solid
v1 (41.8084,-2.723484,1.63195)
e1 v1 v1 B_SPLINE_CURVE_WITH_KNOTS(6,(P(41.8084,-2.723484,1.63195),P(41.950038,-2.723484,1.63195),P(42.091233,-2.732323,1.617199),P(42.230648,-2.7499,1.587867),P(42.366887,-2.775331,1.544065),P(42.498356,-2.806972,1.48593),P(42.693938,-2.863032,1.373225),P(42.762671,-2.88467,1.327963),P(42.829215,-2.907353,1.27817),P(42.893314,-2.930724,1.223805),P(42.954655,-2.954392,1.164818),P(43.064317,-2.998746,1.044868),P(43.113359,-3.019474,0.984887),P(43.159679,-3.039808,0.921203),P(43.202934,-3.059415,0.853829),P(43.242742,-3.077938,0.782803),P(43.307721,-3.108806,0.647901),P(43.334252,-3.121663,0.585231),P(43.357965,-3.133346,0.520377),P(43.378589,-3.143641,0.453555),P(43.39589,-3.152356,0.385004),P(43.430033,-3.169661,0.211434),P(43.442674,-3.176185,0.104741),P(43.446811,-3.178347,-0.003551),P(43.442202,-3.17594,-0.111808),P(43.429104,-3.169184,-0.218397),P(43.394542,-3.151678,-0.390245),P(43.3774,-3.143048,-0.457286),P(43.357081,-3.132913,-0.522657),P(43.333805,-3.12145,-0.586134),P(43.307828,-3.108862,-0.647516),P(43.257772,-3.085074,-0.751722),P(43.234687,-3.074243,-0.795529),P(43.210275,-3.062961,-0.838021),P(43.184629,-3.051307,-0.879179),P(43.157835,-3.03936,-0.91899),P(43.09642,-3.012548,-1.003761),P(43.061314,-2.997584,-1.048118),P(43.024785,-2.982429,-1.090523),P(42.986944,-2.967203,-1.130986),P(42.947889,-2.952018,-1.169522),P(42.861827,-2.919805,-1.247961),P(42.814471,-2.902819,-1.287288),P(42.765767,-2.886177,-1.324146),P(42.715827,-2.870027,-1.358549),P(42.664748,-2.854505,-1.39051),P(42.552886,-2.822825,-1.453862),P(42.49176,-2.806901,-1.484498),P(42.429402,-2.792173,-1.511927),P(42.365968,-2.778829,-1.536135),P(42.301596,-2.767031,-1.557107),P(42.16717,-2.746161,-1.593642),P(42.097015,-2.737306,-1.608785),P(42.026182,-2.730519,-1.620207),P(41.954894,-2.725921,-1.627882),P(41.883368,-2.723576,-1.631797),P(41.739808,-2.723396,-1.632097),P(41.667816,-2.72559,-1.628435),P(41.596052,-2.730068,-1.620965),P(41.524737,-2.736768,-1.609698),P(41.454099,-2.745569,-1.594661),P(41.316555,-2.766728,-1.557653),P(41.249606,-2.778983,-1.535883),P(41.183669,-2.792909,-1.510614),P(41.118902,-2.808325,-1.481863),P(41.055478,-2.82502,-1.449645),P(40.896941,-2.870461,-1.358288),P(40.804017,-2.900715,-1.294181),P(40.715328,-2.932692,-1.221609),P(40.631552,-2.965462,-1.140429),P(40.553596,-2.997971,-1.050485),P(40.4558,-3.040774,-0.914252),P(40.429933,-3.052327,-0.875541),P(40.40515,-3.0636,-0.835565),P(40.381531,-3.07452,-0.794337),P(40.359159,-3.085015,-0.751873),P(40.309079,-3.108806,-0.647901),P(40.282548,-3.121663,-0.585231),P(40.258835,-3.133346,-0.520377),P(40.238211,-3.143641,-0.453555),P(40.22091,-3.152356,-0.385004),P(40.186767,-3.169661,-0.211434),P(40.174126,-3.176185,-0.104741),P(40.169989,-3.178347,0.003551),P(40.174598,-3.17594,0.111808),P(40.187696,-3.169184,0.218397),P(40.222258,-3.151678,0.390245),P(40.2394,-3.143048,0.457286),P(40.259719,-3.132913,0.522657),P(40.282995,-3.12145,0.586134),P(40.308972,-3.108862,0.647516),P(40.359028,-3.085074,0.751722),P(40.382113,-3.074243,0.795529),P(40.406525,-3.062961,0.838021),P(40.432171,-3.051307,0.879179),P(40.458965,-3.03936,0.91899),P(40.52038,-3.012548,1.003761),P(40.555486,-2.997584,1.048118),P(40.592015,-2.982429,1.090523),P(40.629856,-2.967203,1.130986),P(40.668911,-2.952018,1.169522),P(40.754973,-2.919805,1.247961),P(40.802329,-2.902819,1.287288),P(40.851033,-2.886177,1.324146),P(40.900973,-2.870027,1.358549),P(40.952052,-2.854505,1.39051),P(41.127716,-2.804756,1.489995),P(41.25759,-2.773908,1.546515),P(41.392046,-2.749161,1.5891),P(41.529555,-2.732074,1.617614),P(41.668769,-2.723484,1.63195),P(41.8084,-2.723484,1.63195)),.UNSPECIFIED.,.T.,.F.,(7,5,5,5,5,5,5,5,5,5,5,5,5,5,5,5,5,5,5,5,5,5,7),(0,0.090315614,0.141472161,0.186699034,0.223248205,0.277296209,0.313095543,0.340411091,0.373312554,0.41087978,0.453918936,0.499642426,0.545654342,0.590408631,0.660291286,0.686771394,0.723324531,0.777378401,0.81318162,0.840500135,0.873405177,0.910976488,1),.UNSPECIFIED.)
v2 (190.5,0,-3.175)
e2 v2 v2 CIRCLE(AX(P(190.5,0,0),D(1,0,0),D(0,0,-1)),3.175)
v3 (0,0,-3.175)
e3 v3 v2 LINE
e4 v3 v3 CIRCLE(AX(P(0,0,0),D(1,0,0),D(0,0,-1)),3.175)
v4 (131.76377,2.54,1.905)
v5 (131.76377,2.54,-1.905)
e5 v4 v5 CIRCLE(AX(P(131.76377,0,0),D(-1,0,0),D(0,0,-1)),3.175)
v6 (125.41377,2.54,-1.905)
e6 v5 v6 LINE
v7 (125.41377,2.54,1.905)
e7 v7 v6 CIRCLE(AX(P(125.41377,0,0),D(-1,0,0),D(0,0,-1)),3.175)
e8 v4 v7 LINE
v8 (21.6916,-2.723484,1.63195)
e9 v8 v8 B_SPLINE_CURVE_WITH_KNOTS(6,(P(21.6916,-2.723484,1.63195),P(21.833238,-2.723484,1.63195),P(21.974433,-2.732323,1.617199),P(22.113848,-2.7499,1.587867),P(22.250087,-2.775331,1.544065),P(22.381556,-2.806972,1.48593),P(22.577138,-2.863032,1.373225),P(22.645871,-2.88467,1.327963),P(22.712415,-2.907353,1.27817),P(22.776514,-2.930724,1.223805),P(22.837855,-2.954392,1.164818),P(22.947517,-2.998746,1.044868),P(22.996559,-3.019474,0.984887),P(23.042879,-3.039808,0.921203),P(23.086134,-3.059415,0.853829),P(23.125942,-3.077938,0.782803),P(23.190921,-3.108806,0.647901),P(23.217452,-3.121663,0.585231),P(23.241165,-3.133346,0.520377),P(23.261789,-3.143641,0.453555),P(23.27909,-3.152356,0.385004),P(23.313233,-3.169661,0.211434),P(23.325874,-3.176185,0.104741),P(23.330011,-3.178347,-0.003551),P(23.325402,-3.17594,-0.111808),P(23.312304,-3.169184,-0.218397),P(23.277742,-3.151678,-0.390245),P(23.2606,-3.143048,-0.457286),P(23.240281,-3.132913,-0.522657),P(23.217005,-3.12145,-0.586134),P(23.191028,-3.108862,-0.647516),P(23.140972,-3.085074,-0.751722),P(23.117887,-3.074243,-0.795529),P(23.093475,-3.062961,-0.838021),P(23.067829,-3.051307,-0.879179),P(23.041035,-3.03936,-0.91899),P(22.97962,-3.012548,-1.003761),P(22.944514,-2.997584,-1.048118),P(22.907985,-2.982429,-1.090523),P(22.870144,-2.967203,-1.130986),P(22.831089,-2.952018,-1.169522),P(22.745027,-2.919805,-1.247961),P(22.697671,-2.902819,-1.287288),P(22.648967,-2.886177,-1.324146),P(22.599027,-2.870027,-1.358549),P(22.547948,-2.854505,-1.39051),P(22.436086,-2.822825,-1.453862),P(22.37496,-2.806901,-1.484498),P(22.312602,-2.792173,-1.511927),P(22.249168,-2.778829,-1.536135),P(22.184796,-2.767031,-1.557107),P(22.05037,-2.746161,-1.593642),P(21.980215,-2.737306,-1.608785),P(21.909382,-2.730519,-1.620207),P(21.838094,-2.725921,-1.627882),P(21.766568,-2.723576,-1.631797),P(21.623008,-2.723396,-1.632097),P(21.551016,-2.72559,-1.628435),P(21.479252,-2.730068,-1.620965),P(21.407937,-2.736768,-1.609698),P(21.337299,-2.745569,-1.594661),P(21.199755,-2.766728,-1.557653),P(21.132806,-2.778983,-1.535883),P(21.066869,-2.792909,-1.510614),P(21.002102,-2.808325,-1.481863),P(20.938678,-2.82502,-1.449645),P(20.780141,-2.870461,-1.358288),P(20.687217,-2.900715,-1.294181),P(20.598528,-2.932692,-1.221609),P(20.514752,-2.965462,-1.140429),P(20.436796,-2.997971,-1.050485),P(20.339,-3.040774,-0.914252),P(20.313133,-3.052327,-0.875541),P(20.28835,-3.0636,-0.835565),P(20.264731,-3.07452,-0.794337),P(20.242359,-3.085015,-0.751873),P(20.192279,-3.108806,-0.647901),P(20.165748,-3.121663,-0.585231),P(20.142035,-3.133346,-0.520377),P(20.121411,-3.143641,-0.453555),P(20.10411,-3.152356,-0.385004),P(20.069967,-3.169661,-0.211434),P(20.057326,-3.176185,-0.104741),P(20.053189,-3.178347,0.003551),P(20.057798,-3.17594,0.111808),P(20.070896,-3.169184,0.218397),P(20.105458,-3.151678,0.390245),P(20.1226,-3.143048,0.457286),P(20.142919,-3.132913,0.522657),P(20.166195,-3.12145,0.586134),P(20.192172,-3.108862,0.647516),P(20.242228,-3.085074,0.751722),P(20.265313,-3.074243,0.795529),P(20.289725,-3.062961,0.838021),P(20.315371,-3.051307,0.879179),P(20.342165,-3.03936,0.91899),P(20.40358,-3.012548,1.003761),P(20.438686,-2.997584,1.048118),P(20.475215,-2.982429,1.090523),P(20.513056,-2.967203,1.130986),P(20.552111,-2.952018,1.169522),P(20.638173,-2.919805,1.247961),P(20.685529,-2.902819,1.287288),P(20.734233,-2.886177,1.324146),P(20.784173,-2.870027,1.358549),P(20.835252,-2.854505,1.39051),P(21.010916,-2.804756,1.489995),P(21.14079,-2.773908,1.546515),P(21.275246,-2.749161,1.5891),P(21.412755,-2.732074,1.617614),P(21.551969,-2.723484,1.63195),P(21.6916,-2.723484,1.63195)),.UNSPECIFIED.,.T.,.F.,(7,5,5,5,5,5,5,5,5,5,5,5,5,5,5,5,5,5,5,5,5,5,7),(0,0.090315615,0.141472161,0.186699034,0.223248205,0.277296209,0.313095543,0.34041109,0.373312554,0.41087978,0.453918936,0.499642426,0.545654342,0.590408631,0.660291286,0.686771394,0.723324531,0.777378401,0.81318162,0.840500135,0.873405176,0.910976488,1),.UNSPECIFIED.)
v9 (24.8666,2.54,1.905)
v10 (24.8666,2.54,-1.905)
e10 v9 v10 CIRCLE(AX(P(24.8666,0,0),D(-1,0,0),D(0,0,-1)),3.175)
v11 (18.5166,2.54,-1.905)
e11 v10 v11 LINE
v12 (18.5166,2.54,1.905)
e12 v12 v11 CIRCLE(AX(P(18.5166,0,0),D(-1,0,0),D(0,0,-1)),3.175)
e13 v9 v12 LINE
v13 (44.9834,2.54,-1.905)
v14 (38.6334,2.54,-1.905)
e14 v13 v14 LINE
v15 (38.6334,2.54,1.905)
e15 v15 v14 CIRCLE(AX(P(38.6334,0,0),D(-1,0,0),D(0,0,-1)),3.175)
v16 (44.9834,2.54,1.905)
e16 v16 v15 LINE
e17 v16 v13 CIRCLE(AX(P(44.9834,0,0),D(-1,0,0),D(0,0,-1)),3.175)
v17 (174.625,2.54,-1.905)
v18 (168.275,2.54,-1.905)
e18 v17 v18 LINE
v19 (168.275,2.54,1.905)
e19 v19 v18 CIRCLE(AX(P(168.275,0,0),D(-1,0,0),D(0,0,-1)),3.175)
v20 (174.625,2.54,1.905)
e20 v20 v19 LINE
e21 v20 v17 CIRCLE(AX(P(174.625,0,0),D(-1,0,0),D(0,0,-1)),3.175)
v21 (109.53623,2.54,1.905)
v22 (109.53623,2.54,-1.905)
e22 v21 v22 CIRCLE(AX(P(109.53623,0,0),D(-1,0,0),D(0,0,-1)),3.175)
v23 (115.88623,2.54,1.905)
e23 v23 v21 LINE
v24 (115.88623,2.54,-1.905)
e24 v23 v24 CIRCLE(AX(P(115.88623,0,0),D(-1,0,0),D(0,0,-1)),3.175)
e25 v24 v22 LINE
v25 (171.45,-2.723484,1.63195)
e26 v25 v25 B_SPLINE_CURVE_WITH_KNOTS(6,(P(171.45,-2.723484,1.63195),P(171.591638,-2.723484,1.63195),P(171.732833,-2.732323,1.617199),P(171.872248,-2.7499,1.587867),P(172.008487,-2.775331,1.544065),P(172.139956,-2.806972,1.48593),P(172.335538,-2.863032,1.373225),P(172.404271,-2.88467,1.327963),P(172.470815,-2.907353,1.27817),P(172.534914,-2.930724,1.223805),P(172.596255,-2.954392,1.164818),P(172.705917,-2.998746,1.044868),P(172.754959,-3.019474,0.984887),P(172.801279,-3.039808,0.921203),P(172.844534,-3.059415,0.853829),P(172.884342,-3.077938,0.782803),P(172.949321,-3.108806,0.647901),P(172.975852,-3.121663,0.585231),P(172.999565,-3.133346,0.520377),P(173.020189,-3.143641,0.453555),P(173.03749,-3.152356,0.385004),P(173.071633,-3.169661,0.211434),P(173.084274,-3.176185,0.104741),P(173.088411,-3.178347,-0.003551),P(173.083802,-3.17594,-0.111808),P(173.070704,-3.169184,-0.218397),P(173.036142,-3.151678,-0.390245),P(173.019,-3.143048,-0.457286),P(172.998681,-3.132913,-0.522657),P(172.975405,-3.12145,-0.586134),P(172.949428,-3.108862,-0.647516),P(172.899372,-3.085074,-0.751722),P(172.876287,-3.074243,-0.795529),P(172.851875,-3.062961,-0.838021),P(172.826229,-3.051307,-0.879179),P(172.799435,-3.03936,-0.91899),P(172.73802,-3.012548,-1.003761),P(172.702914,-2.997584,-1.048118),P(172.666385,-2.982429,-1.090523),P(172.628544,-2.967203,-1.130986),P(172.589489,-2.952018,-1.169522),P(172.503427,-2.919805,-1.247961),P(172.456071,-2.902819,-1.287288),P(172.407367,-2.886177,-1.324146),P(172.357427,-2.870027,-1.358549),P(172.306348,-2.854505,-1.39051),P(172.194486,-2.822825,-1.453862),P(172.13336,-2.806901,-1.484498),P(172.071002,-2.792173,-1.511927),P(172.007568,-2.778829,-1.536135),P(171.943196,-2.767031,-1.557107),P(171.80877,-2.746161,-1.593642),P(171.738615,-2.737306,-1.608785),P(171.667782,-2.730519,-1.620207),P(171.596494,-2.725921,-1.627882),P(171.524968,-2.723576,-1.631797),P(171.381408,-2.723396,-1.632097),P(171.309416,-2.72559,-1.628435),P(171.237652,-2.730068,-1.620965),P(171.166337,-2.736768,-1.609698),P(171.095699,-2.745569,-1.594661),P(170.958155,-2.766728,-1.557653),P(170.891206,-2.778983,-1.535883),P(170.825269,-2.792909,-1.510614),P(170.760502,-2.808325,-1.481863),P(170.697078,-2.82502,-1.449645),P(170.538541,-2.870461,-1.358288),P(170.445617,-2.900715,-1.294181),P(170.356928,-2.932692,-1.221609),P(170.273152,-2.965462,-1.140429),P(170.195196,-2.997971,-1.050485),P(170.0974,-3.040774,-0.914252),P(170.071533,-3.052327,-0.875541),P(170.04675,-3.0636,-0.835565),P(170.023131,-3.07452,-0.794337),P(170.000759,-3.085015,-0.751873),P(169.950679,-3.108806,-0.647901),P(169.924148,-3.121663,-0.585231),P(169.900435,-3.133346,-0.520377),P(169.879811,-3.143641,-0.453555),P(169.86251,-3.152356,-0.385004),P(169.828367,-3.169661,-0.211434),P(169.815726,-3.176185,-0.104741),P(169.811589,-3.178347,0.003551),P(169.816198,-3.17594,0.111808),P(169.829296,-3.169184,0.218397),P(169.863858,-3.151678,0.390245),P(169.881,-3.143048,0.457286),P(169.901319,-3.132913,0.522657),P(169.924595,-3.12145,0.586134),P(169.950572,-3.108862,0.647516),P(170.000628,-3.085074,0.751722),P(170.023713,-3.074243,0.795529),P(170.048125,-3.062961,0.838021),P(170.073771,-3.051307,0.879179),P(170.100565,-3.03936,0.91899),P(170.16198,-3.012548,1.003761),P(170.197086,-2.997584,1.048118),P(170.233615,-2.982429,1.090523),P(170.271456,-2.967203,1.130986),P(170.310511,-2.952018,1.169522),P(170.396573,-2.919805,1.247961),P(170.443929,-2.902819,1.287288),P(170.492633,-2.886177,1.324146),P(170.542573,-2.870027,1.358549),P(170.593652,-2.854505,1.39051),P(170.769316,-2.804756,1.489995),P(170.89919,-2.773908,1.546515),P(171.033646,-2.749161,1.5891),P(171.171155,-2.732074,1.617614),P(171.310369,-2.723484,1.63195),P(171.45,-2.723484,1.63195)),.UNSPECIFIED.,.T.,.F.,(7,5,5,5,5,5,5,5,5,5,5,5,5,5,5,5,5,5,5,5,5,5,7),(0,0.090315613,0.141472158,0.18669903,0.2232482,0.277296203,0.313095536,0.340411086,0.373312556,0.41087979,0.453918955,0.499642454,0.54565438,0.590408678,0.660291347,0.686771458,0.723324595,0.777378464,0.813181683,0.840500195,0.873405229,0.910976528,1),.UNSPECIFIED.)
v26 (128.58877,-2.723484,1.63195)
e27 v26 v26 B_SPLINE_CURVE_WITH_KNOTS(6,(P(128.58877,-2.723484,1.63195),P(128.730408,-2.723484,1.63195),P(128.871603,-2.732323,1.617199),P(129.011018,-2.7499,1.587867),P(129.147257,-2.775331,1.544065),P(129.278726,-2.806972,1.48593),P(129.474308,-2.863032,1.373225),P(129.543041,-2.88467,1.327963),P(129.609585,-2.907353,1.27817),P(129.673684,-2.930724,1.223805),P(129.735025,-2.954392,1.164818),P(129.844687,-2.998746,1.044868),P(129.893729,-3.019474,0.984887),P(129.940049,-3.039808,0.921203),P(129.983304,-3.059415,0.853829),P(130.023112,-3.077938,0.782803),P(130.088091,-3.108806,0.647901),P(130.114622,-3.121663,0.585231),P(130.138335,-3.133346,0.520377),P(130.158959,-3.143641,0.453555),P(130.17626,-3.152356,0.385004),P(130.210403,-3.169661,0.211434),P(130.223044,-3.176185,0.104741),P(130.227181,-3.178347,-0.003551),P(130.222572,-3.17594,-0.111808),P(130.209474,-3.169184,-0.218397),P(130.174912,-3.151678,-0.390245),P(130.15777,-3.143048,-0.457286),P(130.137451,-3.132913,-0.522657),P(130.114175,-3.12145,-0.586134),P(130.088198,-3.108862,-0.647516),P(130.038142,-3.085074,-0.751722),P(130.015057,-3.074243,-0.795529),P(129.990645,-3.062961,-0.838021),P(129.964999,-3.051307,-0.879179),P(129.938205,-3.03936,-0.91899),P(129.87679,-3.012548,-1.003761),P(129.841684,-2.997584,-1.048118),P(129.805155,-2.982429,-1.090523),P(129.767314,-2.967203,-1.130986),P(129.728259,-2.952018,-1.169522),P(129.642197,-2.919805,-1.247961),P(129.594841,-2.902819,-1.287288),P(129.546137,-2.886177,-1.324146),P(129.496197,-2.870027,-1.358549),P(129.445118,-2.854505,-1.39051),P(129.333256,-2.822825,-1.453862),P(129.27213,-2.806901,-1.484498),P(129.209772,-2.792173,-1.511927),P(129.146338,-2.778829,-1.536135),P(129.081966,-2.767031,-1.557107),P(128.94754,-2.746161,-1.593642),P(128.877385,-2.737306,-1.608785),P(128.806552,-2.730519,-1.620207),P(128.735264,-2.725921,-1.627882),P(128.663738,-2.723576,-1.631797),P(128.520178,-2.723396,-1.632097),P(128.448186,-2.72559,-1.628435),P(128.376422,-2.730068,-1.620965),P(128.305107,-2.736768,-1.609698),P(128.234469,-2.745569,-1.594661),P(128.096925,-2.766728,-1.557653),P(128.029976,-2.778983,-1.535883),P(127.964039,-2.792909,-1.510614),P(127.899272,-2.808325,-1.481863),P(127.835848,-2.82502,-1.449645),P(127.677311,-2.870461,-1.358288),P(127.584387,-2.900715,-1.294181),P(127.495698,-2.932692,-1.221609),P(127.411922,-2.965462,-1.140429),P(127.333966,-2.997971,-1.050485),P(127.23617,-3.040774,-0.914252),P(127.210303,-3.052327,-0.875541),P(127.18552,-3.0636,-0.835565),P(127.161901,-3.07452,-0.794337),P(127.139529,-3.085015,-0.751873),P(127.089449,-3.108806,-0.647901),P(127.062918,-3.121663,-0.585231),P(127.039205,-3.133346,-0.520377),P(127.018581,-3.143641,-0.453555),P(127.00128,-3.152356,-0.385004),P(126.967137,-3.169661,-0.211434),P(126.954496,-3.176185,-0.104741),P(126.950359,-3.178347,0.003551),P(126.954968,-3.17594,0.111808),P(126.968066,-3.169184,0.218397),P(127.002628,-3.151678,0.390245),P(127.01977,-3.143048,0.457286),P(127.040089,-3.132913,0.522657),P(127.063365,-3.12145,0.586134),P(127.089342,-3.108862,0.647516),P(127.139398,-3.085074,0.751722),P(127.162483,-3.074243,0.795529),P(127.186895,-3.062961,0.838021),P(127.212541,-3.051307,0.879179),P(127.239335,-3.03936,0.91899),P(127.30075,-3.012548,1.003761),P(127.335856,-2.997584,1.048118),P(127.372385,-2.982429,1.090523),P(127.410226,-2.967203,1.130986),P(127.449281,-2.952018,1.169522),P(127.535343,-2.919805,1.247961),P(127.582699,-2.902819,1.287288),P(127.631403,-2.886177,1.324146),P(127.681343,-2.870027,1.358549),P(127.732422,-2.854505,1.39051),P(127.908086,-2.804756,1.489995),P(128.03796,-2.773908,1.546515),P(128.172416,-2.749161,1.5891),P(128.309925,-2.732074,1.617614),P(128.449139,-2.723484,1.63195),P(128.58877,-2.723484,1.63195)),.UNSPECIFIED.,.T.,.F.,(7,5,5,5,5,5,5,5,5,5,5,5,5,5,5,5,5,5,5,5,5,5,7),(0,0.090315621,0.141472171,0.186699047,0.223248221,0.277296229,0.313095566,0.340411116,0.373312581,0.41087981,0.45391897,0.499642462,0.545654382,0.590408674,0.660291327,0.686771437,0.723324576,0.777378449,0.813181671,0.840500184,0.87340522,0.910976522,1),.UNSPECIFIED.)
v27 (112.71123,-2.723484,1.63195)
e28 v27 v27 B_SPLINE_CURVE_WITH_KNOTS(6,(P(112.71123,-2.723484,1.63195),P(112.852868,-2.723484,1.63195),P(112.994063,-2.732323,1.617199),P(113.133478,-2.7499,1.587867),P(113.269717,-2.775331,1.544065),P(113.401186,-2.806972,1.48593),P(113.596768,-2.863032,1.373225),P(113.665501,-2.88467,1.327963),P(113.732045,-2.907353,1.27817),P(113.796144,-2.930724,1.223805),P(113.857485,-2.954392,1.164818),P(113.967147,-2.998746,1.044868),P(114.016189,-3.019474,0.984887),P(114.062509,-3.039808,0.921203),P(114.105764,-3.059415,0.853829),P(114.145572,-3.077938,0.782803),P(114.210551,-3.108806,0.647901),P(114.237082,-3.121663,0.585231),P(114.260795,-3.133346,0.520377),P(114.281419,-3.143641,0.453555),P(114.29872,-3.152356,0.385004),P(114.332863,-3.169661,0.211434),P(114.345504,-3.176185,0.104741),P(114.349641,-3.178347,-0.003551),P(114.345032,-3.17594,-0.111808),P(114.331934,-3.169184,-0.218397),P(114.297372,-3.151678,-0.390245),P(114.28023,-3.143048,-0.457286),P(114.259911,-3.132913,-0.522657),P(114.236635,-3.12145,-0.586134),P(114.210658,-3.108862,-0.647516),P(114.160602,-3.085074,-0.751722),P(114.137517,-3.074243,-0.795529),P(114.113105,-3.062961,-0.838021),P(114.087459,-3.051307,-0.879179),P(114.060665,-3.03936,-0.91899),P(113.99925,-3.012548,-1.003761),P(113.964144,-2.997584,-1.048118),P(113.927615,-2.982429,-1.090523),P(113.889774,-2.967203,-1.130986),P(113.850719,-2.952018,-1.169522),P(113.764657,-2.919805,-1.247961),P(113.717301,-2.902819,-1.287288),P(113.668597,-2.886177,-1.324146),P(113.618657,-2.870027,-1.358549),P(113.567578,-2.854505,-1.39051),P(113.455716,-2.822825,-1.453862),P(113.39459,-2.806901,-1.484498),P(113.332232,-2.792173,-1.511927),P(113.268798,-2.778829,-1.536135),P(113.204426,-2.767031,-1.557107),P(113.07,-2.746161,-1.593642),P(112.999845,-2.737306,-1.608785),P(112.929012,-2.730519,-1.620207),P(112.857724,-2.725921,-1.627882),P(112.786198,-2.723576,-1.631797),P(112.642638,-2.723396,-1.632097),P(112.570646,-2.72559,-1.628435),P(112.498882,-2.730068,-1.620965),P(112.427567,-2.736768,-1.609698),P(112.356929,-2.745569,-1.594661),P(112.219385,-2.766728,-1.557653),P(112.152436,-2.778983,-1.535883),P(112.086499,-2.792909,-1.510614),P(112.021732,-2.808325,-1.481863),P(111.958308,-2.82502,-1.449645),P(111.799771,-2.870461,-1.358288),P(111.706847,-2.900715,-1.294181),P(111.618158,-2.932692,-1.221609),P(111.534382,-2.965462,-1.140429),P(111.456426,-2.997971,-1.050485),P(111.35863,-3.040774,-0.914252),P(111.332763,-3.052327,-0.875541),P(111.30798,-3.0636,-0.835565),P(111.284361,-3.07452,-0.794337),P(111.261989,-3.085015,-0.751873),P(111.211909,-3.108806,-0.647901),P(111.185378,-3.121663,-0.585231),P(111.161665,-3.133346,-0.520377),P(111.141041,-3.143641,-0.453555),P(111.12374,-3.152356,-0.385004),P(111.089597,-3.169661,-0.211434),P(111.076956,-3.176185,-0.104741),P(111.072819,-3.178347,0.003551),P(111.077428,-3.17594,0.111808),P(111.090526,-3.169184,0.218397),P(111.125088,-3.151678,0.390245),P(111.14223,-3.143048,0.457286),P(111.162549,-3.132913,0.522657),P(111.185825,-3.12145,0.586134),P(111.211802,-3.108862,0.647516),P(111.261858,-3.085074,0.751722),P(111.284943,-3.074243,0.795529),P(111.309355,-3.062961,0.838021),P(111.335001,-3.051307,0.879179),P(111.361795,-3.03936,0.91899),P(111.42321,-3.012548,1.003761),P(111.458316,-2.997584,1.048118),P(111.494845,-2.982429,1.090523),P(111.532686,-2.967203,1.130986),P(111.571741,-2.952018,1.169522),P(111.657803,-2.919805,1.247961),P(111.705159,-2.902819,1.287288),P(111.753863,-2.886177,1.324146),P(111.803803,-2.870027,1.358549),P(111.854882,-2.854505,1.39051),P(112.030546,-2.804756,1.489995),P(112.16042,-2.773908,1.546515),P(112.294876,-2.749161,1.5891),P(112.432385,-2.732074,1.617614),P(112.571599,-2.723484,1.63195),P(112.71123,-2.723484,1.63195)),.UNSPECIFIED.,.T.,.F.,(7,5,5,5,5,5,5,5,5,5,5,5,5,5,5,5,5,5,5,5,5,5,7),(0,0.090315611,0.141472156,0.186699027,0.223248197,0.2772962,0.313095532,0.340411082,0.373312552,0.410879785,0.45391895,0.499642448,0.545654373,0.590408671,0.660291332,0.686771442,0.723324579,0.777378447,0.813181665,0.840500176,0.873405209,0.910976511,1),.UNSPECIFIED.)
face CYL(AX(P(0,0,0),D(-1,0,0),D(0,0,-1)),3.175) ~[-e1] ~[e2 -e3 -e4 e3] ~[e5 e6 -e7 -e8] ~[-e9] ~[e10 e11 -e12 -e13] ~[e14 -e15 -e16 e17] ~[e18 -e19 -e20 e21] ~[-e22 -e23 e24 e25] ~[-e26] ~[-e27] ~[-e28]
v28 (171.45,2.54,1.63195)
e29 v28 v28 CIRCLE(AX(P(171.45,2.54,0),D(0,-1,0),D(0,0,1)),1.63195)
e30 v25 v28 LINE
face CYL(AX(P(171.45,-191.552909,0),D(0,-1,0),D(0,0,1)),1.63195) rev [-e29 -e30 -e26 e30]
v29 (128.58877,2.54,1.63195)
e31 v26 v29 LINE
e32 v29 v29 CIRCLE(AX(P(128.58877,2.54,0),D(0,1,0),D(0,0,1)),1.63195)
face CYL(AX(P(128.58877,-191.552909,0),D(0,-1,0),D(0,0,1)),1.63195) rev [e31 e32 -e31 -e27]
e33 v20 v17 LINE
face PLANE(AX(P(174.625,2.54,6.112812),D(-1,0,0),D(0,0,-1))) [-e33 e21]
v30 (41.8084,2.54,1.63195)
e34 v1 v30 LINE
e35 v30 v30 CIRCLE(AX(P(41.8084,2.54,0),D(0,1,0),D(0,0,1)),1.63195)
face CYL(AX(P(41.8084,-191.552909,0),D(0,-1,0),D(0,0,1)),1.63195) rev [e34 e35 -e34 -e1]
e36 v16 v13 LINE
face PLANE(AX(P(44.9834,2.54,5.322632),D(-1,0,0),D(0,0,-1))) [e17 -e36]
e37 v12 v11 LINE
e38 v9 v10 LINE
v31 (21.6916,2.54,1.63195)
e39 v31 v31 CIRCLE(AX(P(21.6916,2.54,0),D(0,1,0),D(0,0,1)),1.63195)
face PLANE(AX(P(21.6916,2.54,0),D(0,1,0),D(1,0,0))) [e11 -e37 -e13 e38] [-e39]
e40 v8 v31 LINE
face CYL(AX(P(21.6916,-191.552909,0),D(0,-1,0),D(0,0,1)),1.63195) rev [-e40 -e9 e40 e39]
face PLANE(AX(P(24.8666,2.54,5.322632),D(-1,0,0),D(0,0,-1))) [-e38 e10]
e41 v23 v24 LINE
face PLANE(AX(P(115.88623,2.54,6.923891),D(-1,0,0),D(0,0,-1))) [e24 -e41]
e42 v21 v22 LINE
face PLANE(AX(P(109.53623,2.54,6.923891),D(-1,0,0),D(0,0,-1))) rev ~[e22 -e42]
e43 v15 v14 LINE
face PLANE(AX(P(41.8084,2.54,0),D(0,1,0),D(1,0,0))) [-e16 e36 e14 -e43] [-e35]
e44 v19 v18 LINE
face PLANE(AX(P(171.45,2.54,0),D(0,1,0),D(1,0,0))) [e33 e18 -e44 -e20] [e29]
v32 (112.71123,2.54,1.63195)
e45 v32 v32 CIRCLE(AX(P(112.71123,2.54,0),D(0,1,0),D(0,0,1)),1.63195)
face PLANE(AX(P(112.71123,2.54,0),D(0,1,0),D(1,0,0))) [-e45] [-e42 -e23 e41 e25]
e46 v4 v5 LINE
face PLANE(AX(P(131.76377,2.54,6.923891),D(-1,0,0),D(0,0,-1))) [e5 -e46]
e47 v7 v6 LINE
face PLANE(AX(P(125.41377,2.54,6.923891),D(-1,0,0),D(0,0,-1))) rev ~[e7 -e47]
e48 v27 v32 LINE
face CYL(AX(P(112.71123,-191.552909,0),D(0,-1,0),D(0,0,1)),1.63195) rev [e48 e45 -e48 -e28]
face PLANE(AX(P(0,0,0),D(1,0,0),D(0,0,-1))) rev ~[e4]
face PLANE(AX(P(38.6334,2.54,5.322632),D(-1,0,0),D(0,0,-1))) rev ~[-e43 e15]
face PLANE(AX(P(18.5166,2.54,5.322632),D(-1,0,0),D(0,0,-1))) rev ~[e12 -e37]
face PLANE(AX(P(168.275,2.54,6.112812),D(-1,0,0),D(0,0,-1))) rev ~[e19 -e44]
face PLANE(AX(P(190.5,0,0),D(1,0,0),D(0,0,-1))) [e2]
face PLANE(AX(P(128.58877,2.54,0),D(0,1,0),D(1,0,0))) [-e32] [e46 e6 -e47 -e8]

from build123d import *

# Parameters (mm, degrees)
SKETCH1_R               = 3.175
BOSS_EXTRUDE1_DEPTH     = 190.5
CUT_EXTRUDE1_DEPTH      = 191.552909319
CUT_EXTRUDE1_DEPTH_BACK = 191.552909319
SKETCH2_R               = 1.63195
CUT_EXTRUDE2_START      = 2.54
SKETCH2_3_W             = 6.35
SKETCH2_3_H             = 10.645264834
SKETCH2_3_R             = 1.63195
SKETCH2_3_H_2           = 13.84778105
SKETCH2_3_H_3           = 12.22562476
CUT_EXTRUDE2_DEPTH      = 189.012909422


with BuildPart() as part:
    # Sketch1 → Boss-Extrude1 (new body)
    with BuildSketch(Plane(origin=(0, 0, 0), x_dir=(0, 0, -1), z_dir=(1, 0, 0))):
        Circle(SKETCH1_R)
    extrude(amount=BOSS_EXTRUDE1_DEPTH)

    # Sketch2 → Cut-Extrude1 (cut, two sides: drawn at the far end of the back side and taken through both)
    with BuildSketch(Plane(origin=(0, 0, 0), x_dir=(1, 0, 0), z_dir=(0, 1, 0)).offset(-CUT_EXTRUDE1_DEPTH_BACK)):
        with Locations((21.6916, 0)):
            Circle(SKETCH2_R)
        with Locations((41.8084, 0)):
            Circle(SKETCH2_R)
        with Locations((112.71123, 0)):
            Circle(SKETCH2_R)
        with Locations((128.58877, 0)):
            Circle(SKETCH2_R)
        with Locations((171.45, 0)):
            Circle(SKETCH2_R)
    extrude(amount=CUT_EXTRUDE1_DEPTH + CUT_EXTRUDE1_DEPTH_BACK, mode=Mode.SUBTRACT)

    # Sketch2<3> → Cut-Extrude2 (cut, through all)
    # profile 1 of 5: a face of its own
    with BuildSketch(Plane(origin=(0, 0, 0), x_dir=(1, 0, 0), z_dir=(0, 1, 0)).offset(CUT_EXTRUDE2_START)):
        with Locations((41.8084, 0)):
            Rectangle(SKETCH2_3_W, SKETCH2_3_H)
        with Locations((41.8084, 0)):
            Circle(SKETCH2_3_R, mode=Mode.SUBTRACT)
    # profile 2 of 5: a face of its own
    with BuildSketch(Plane(origin=(0, 0, 0), x_dir=(1, 0, 0), z_dir=(0, 1, 0)).offset(CUT_EXTRUDE2_START)):
        with Locations((21.6916, 0)):
            Rectangle(SKETCH2_3_W, SKETCH2_3_H)
        with Locations((21.6916, 0)):
            Circle(SKETCH2_3_R, mode=Mode.SUBTRACT)
    # profile 3 of 5: a face of its own
    with BuildSketch(Plane(origin=(0, 0, 0), x_dir=(1, 0, 0), z_dir=(0, 1, 0)).offset(CUT_EXTRUDE2_START)):
        with Locations((128.58877, 0)):
            Rectangle(SKETCH2_3_W, SKETCH2_3_H_2)
        with Locations((128.58877, 0)):
            Circle(SKETCH2_3_R, mode=Mode.SUBTRACT)
    # profile 4 of 5: a face of its own
    with BuildSketch(Plane(origin=(0, 0, 0), x_dir=(1, 0, 0), z_dir=(0, 1, 0)).offset(CUT_EXTRUDE2_START)):
        with Locations((112.71123, 0)):
            Rectangle(SKETCH2_3_W, SKETCH2_3_H_2)
        with Locations((112.71123, 0)):
            Circle(SKETCH2_3_R, mode=Mode.SUBTRACT)
    # profile 5 of 5: a face of its own
    with BuildSketch(Plane(origin=(0, 0, 0), x_dir=(1, 0, 0), z_dir=(0, 1, 0)).offset(CUT_EXTRUDE2_START)):
        with Locations((171.45, 0)):
            Rectangle(SKETCH2_3_W, SKETCH2_3_H_3)
    extrude(amount=CUT_EXTRUDE2_DEPTH, mode=Mode.SUBTRACT)


solid = part.part
